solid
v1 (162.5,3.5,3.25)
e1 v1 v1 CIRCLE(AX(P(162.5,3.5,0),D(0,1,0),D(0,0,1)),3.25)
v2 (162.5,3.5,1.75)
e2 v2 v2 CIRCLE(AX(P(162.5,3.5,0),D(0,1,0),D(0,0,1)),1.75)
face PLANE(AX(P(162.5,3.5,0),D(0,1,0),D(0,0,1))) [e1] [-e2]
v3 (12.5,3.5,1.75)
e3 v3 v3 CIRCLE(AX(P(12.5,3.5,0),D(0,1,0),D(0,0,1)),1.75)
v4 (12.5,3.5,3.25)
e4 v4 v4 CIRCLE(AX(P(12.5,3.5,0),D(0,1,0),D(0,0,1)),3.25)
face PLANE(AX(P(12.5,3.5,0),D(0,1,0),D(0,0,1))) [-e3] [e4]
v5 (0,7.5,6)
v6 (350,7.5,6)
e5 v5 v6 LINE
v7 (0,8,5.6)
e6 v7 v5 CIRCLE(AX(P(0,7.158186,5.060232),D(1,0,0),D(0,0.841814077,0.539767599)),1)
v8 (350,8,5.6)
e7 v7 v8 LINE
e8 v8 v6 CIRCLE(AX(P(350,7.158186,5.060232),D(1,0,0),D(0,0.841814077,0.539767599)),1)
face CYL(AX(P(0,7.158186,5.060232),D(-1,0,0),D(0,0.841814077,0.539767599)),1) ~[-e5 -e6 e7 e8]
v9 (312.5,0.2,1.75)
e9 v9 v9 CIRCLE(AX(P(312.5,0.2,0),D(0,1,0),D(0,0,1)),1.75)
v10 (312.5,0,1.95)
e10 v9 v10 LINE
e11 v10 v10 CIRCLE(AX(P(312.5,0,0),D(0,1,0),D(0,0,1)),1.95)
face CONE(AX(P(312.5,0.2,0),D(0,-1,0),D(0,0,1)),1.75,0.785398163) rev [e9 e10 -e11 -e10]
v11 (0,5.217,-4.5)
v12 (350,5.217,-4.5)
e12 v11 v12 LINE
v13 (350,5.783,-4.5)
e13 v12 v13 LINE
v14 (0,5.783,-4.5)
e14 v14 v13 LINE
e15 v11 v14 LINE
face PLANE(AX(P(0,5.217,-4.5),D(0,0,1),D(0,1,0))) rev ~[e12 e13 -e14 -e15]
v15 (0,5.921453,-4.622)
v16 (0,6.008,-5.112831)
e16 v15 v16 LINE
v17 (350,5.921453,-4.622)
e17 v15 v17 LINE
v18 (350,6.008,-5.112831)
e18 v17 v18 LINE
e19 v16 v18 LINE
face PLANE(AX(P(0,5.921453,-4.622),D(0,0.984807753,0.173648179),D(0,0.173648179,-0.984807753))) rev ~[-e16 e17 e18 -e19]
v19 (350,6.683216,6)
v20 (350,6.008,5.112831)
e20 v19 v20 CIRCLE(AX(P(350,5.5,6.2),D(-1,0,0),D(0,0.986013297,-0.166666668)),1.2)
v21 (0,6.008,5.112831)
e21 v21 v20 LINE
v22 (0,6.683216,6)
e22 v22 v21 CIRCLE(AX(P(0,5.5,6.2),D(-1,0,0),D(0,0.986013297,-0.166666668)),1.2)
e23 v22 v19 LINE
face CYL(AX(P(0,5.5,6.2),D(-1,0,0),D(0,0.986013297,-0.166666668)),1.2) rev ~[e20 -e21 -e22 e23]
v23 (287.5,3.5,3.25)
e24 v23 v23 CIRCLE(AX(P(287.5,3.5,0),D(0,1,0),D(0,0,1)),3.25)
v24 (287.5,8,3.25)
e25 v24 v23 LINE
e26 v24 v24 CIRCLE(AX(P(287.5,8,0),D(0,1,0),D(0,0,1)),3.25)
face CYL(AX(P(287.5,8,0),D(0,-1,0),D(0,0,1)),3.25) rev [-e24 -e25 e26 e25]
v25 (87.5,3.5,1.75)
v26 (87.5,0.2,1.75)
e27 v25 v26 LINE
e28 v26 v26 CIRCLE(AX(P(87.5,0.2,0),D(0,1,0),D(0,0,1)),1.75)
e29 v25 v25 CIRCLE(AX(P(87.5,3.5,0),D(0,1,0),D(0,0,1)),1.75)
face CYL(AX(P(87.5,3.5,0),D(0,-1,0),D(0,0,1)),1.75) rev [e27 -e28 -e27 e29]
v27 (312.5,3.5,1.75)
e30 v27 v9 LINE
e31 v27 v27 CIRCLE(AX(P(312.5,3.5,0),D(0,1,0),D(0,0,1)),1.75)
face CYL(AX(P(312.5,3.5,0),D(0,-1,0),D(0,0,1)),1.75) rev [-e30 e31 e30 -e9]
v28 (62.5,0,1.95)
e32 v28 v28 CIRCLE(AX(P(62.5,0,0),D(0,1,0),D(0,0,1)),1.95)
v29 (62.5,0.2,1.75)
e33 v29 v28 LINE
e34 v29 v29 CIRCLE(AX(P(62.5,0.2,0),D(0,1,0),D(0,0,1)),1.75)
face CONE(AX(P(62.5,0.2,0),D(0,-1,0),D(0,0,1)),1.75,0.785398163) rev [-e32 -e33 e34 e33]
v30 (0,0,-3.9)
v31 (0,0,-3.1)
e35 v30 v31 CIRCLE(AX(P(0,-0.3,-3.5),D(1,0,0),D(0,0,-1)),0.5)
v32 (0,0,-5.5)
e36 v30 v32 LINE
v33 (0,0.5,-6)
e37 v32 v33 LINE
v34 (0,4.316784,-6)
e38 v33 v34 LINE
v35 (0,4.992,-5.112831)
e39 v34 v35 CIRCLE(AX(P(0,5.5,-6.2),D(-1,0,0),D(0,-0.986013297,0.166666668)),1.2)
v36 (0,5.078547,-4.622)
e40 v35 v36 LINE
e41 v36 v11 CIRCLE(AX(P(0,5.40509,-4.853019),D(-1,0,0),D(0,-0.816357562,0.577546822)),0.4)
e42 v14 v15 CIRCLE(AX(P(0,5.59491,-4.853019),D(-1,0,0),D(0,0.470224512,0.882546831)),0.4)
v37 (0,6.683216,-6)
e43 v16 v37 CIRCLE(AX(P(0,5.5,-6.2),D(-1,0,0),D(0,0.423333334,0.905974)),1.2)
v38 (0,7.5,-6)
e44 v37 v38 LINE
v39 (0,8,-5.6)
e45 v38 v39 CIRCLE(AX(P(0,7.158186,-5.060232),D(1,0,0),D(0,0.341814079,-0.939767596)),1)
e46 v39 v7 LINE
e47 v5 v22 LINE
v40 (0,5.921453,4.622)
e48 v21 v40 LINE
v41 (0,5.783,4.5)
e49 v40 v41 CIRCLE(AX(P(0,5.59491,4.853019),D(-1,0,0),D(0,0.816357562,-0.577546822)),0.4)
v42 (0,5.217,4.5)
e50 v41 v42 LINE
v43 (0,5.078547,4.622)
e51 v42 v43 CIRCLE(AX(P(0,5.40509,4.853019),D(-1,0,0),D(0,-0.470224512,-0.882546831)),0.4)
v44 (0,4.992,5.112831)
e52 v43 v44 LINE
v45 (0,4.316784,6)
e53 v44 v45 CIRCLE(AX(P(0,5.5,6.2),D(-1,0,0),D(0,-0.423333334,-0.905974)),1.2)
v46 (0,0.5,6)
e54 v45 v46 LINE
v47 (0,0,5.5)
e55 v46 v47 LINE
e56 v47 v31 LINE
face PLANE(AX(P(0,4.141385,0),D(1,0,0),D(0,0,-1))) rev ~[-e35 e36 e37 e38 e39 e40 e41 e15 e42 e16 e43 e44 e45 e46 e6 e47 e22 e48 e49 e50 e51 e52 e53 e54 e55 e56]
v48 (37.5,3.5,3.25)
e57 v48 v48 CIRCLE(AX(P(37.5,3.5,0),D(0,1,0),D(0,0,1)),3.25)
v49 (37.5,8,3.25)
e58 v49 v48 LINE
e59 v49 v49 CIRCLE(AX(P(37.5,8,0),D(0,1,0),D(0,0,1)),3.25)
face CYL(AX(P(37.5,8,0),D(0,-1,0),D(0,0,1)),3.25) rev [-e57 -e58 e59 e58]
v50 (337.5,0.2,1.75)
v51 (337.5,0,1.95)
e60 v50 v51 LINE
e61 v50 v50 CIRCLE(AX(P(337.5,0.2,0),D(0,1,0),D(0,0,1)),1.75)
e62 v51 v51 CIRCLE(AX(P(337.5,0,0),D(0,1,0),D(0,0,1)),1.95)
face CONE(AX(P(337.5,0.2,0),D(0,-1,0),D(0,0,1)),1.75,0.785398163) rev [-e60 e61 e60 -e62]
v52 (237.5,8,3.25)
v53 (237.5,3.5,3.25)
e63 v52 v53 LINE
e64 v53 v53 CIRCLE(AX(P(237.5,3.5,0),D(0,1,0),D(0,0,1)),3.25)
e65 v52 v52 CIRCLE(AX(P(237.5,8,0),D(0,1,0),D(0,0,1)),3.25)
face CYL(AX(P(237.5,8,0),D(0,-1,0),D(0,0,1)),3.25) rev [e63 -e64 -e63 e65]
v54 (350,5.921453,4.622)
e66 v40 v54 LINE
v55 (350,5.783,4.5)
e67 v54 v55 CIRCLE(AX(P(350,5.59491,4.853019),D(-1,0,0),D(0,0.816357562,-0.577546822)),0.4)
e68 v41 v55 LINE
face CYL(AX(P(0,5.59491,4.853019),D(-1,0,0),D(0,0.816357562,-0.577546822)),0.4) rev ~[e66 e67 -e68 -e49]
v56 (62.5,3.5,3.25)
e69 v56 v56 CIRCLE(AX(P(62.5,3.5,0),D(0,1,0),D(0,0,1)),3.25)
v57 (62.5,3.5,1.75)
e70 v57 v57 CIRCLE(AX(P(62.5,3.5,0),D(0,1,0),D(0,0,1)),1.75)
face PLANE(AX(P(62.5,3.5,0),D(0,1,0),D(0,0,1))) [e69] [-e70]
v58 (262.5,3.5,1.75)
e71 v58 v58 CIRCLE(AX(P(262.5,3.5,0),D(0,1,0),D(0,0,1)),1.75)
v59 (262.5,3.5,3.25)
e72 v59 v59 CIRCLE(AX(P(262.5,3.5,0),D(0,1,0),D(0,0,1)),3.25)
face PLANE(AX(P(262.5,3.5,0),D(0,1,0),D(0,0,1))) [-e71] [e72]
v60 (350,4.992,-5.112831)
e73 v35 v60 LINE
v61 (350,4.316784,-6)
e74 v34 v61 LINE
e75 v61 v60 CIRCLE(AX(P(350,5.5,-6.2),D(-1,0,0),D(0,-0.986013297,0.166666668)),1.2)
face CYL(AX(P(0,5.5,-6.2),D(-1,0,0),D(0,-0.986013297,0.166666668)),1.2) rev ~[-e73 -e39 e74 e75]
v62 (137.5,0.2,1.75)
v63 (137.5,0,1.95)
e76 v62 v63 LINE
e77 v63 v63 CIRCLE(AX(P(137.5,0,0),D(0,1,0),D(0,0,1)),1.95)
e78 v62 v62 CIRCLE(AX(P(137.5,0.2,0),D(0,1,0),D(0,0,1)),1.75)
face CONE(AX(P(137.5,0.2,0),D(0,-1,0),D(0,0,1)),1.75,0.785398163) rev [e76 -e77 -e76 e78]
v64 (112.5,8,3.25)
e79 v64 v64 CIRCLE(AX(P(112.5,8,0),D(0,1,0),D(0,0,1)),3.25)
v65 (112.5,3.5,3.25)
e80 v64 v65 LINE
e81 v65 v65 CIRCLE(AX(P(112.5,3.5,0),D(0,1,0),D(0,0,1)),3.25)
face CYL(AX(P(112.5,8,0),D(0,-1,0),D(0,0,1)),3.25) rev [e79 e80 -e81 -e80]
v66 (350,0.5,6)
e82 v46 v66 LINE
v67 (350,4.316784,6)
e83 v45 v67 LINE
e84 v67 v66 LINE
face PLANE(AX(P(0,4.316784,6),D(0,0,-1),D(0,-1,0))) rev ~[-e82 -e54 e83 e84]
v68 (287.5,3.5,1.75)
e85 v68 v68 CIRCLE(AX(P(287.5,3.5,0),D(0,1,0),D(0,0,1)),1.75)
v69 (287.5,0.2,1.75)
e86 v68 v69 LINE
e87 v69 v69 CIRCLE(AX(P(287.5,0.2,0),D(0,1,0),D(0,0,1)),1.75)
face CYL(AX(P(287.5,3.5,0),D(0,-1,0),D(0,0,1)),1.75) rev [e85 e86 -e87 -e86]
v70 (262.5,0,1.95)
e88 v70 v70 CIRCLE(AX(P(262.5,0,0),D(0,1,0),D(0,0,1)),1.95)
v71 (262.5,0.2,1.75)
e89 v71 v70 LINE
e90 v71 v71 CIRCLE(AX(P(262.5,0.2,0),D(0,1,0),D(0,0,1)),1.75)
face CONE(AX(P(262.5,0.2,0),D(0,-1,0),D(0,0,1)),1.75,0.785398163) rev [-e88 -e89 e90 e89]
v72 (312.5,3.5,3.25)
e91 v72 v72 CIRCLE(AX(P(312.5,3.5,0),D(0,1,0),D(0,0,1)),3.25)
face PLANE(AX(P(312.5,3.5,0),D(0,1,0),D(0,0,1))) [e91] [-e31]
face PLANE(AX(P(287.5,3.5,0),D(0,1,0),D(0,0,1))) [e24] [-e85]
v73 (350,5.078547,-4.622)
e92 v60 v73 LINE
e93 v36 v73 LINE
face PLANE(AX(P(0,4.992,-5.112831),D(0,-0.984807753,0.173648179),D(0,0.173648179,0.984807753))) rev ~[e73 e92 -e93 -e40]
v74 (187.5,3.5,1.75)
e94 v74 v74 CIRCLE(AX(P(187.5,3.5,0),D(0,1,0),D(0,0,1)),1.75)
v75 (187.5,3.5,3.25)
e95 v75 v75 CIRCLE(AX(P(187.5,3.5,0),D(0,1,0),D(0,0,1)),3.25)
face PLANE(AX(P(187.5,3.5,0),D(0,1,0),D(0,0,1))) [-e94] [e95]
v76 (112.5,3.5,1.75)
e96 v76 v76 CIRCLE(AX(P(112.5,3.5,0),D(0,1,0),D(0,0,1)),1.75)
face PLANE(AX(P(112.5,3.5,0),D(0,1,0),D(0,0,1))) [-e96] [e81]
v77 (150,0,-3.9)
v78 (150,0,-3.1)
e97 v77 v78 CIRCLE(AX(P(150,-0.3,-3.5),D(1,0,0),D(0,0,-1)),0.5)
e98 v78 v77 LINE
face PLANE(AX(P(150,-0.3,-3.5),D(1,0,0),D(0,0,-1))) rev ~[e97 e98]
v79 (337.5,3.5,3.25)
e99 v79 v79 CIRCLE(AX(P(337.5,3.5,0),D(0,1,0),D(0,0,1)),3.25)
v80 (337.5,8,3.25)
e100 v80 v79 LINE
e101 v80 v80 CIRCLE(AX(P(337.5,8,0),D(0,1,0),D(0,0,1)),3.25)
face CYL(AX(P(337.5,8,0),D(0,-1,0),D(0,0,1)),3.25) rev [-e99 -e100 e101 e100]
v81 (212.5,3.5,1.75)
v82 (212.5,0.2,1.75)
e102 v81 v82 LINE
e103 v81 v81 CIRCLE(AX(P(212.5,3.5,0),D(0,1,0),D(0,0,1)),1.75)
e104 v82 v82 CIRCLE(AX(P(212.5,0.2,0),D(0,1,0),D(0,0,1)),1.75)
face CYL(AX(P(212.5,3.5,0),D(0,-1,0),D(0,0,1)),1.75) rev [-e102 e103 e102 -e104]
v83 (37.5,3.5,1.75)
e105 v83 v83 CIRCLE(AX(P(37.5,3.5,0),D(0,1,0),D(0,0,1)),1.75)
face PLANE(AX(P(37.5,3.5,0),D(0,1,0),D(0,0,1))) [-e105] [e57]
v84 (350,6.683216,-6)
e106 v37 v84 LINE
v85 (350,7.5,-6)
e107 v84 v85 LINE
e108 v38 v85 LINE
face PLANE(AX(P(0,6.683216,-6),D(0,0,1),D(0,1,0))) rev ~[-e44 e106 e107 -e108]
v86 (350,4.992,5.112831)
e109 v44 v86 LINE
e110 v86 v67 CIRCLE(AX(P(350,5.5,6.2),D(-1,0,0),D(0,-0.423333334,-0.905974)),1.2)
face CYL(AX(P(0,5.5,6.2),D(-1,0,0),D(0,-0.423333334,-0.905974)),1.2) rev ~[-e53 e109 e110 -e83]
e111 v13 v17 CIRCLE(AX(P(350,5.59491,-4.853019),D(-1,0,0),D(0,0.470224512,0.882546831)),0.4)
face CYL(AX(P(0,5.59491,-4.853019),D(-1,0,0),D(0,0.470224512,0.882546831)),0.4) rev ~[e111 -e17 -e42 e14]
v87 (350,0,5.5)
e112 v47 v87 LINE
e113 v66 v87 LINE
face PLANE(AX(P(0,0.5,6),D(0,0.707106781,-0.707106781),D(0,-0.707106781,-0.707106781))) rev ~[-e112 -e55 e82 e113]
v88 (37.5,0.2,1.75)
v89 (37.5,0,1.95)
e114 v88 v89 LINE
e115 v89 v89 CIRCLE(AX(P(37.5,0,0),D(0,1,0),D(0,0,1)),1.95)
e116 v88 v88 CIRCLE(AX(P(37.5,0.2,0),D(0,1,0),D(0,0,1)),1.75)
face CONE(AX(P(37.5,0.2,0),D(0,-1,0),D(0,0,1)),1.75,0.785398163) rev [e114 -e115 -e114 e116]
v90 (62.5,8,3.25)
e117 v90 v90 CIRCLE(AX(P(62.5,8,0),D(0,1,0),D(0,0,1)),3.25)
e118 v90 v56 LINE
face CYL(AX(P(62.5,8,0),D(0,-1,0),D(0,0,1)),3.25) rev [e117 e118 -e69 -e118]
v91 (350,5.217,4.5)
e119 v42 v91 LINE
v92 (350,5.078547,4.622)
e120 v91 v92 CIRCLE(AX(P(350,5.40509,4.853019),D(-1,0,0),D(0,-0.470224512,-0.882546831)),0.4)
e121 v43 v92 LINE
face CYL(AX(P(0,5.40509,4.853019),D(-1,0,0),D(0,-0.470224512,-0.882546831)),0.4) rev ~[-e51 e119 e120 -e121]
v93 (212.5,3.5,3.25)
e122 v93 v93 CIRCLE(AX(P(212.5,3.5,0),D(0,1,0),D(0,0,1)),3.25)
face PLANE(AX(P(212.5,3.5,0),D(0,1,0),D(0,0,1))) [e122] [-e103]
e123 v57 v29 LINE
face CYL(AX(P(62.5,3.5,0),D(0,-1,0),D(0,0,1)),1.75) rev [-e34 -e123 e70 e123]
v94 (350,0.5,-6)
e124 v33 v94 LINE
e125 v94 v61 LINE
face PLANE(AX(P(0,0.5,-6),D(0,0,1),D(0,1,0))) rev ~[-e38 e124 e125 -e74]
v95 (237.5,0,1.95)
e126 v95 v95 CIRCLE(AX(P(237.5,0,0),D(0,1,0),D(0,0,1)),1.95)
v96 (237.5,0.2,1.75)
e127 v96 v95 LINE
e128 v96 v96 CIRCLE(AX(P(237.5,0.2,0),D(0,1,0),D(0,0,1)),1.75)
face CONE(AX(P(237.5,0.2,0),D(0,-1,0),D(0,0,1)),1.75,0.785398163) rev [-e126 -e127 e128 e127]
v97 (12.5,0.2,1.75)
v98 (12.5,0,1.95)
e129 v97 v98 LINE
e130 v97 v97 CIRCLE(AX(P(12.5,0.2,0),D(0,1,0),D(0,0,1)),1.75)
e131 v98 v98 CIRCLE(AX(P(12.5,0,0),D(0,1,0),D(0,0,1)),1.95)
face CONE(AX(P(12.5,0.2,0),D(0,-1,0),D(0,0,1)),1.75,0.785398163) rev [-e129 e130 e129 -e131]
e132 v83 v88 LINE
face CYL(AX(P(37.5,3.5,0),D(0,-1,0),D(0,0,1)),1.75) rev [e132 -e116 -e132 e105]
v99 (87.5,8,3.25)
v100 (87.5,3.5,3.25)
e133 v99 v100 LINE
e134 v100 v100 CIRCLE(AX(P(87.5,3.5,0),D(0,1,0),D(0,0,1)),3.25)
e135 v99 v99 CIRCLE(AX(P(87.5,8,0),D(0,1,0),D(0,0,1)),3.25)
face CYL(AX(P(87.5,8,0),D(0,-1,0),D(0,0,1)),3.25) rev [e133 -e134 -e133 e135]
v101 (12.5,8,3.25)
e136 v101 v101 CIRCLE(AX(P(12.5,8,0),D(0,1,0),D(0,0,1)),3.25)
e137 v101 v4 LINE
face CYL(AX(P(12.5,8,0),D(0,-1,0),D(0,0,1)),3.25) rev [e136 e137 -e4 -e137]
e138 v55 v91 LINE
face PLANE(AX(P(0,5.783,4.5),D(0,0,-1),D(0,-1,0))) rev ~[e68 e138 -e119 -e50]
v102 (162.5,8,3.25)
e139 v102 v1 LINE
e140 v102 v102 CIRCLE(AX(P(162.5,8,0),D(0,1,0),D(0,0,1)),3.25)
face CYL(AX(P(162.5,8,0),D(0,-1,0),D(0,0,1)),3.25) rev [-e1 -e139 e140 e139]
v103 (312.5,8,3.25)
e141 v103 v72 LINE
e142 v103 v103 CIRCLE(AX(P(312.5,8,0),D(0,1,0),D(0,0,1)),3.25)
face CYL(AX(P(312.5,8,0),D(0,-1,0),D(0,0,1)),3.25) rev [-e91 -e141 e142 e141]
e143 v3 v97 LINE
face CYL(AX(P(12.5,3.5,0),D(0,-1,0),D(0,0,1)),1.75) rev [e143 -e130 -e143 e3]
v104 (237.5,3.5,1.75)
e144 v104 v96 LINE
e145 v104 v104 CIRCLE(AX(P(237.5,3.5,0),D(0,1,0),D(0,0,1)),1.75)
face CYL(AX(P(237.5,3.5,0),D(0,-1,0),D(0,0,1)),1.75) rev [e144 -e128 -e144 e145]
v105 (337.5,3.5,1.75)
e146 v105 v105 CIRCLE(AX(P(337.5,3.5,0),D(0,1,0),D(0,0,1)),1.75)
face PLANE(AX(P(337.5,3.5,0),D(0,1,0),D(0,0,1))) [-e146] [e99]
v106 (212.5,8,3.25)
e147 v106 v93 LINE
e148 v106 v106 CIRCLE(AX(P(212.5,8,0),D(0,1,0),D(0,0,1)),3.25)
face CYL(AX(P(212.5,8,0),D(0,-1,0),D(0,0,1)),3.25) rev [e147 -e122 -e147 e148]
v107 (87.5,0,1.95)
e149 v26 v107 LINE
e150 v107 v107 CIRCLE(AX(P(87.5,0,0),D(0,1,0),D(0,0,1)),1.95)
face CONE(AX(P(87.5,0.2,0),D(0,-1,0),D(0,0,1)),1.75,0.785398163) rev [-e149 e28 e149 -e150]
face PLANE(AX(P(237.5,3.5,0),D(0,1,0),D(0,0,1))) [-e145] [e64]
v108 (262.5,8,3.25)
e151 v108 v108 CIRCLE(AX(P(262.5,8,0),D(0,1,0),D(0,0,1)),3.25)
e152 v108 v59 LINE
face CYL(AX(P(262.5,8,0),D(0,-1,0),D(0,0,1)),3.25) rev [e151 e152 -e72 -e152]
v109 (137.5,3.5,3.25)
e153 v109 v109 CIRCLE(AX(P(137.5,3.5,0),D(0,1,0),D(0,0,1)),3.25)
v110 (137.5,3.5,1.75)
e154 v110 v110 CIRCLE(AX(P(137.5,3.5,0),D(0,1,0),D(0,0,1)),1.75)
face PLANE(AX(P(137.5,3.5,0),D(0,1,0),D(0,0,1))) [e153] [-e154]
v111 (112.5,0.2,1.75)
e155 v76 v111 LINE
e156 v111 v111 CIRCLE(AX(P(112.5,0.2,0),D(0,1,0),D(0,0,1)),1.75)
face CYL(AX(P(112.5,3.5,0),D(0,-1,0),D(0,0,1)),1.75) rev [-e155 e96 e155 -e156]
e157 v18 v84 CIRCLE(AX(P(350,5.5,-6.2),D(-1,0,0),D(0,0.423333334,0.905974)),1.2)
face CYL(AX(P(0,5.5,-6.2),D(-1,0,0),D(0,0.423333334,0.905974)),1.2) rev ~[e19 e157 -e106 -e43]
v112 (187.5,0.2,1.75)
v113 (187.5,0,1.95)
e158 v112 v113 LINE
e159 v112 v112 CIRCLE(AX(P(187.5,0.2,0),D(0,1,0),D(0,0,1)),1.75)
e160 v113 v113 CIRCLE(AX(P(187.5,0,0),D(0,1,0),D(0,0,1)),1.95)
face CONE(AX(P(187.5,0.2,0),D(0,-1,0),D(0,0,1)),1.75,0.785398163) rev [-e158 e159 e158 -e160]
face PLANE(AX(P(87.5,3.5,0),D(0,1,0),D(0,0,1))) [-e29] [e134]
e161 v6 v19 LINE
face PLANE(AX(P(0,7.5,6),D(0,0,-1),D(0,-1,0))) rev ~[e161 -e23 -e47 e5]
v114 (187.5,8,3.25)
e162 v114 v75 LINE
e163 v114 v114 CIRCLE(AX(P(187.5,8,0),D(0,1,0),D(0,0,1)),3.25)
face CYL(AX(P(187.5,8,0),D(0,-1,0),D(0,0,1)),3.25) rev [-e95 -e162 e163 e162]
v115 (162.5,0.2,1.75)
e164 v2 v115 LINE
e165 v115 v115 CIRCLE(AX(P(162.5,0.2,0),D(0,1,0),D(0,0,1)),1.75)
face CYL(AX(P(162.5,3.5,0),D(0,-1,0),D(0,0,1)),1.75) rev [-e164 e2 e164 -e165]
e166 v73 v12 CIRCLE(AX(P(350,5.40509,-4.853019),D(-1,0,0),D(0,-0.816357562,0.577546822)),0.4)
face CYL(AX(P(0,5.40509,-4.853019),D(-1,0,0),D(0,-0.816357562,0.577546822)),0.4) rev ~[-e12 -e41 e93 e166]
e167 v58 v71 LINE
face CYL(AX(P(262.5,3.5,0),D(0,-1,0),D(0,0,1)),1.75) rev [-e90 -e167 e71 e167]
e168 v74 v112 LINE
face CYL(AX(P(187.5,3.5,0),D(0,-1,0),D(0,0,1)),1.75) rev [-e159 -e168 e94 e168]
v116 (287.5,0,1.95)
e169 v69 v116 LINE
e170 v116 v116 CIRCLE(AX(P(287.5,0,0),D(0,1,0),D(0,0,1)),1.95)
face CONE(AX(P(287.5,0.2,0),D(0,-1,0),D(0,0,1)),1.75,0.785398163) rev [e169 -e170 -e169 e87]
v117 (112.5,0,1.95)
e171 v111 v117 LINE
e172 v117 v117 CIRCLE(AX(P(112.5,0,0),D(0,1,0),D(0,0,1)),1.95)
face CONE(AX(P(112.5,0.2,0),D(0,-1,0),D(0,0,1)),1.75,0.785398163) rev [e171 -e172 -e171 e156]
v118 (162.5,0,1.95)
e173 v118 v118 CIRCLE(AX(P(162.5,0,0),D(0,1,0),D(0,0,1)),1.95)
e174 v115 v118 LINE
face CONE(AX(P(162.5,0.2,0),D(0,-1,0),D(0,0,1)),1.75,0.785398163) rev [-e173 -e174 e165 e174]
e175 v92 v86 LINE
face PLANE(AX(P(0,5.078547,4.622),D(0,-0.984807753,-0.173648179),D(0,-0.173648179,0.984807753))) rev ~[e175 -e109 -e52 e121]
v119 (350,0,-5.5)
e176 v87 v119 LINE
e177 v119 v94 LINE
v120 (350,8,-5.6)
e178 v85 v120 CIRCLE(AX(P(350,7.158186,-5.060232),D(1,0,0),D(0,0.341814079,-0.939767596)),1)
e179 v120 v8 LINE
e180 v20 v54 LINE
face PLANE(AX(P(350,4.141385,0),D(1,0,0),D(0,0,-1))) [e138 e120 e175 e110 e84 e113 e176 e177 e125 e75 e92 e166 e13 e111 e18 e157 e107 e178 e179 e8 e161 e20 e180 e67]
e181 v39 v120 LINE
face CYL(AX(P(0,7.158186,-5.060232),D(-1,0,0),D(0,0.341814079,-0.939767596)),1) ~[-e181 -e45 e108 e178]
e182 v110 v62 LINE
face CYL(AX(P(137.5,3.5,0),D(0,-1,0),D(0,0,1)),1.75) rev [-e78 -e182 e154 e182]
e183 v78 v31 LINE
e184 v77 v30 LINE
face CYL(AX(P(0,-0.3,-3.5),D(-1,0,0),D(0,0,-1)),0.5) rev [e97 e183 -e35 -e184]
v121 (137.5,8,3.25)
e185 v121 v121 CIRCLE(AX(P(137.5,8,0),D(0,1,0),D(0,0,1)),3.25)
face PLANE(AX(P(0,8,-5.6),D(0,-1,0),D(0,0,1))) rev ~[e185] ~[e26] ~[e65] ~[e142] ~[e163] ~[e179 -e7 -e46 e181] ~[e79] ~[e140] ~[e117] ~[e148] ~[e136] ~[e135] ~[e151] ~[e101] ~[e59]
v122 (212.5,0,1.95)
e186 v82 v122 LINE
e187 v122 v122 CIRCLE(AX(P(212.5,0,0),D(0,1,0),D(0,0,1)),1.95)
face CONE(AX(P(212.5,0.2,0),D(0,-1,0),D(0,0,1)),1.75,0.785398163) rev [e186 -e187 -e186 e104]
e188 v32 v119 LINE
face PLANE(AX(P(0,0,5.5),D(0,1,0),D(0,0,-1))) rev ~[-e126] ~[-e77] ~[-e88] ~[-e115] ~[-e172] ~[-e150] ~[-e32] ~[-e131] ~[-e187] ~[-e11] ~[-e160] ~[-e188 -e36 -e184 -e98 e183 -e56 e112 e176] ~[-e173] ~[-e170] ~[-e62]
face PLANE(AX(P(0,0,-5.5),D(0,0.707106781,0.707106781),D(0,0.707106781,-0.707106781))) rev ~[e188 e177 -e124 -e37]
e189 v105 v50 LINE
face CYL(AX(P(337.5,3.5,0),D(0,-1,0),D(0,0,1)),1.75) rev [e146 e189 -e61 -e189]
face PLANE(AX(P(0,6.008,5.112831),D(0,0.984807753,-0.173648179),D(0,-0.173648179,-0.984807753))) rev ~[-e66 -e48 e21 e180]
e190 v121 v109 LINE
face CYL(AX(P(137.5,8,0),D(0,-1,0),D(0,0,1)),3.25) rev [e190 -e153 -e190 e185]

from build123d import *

# Parameters (mm, degrees)
EXTRUDE1_DEPTH  = 350
SKETCH8_R       = 0.5
EXTRUDE2_DEPTH  = 150
LPATTERN1_COUNT = 13
LPATTERN1_PITCH = 25


with BuildPart() as part:
    # Sketch1 → Extrude1 (new body)
    with BuildSketch(Plane(origin=(0, 0, 0), x_dir=(0, 0, -1), z_dir=(1, 0, 0))):
        with BuildLine():
            Line((-6, 0.5), (-5.5, 0))
            Line((-5.5, 0), (5.5, 0))
            Line((5.5, 0), (6, 0.5))
            Line((6, 0.5), (6, 4.316784043))
            ThreePointArc((6, 4.316784043), (5.473240049, 4.54510735), (5.1128312, 4.992))
            Line((5.1128312, 4.992), (4.622, 5.078546784))
            ThreePointArc((4.622, 5.078546784), (4.552906648, 5.14064182), (4.5, 5.217))
            Line((4.5, 5.217), (4.5, 5.783))
            ThreePointArc((4.5, 5.783), (4.552906648, 5.85935818), (4.622, 5.921453216))
            Line((4.622, 5.921453216), (5.1128312, 6.008))
            ThreePointArc((5.1128312, 6.008), (5.473240049, 6.45489265), (6, 6.683215957))
            Line((6, 6.683215957), (6, 7.5))
            ThreePointArc((6, 7.5), (5.841101212, 7.78288097), (5.6, 8))
            Line((5.6, 8), (-5.6, 8))
            ThreePointArc((-5.6, 8), (-5.841101212, 7.78288097), (-6, 7.5))
            Line((-6, 7.5), (-6, 6.683215957))
            ThreePointArc((-6, 6.683215957), (-5.473240049, 6.45489265), (-5.1128312, 6.008))
            Line((-5.1128312, 6.008), (-4.622, 5.921453216))
            ThreePointArc((-4.622, 5.921453216), (-4.552906648, 5.85935818), (-4.5, 5.783))
            Line((-4.5, 5.783), (-4.5, 5.217))
            ThreePointArc((-4.5, 5.217), (-4.552906648, 5.14064182), (-4.622, 5.078546784))
            Line((-4.622, 5.078546784), (-5.1128312, 4.992))
            ThreePointArc((-5.1128312, 4.992), (-5.473240049, 4.54510735), (-6, 4.316784043))
            Line((-6, 4.316784043), (-6, 0.5))
        make_face()
    extrude(amount=EXTRUDE1_DEPTH)

    # Sketch2 → Cut-Revolve1 (revolve, cut)
    with BuildSketch(Plane(origin=(0, 0, 0), x_dir=(-1, 0, 0), z_dir=(0, 0, -1))):
        Polygon((-12.5, 8), (-9.25, 8), (-9.25, 3.5), (-10.75, 3.5), (-10.75, 0.2), (-10.55, 0), (-12.5, 0), align=None)
    revolve(axis=Axis((12.5, 0, 0), (0, 1, 0)), mode=Mode.SUBTRACT)

    # Sketch3 → Cut-Revolve2 (revolve, cut)
    with BuildSketch(Plane(origin=(125, 0, 0), x_dir=(-1, 0, 0), z_dir=(0, 0, -1))):
        Polygon((-212.5, 8), (-209.25, 8), (-209.25, 3.5), (-210.75, 3.5), (-210.75, 0.2), (-210.55, 0), (-212.5, 0), align=None)
    cut_revolve2 = revolve(axis=Axis((337.5, 0, 0), (0, 1, 0)), mode=Mode.SUBTRACT)

    # Sketch8 → Extrude2 (cut)
    with BuildSketch(Plane(origin=(0, 0, 0), x_dir=(0, 0, -1), z_dir=(1, 0, 0))):
        with Locations((3.5, -0.3)):
            Circle(SKETCH8_R)
    extrude(amount=EXTRUDE2_DEPTH, mode=Mode.SUBTRACT)

    # LPattern1: Cut-Revolve2 ×13
    with Locations(*[(-i * LPATTERN1_PITCH, 0, 0) for i in range(1, LPATTERN1_COUNT)]):
        add(cut_revolve2, mode=Mode.SUBTRACT)


solid = part.part
